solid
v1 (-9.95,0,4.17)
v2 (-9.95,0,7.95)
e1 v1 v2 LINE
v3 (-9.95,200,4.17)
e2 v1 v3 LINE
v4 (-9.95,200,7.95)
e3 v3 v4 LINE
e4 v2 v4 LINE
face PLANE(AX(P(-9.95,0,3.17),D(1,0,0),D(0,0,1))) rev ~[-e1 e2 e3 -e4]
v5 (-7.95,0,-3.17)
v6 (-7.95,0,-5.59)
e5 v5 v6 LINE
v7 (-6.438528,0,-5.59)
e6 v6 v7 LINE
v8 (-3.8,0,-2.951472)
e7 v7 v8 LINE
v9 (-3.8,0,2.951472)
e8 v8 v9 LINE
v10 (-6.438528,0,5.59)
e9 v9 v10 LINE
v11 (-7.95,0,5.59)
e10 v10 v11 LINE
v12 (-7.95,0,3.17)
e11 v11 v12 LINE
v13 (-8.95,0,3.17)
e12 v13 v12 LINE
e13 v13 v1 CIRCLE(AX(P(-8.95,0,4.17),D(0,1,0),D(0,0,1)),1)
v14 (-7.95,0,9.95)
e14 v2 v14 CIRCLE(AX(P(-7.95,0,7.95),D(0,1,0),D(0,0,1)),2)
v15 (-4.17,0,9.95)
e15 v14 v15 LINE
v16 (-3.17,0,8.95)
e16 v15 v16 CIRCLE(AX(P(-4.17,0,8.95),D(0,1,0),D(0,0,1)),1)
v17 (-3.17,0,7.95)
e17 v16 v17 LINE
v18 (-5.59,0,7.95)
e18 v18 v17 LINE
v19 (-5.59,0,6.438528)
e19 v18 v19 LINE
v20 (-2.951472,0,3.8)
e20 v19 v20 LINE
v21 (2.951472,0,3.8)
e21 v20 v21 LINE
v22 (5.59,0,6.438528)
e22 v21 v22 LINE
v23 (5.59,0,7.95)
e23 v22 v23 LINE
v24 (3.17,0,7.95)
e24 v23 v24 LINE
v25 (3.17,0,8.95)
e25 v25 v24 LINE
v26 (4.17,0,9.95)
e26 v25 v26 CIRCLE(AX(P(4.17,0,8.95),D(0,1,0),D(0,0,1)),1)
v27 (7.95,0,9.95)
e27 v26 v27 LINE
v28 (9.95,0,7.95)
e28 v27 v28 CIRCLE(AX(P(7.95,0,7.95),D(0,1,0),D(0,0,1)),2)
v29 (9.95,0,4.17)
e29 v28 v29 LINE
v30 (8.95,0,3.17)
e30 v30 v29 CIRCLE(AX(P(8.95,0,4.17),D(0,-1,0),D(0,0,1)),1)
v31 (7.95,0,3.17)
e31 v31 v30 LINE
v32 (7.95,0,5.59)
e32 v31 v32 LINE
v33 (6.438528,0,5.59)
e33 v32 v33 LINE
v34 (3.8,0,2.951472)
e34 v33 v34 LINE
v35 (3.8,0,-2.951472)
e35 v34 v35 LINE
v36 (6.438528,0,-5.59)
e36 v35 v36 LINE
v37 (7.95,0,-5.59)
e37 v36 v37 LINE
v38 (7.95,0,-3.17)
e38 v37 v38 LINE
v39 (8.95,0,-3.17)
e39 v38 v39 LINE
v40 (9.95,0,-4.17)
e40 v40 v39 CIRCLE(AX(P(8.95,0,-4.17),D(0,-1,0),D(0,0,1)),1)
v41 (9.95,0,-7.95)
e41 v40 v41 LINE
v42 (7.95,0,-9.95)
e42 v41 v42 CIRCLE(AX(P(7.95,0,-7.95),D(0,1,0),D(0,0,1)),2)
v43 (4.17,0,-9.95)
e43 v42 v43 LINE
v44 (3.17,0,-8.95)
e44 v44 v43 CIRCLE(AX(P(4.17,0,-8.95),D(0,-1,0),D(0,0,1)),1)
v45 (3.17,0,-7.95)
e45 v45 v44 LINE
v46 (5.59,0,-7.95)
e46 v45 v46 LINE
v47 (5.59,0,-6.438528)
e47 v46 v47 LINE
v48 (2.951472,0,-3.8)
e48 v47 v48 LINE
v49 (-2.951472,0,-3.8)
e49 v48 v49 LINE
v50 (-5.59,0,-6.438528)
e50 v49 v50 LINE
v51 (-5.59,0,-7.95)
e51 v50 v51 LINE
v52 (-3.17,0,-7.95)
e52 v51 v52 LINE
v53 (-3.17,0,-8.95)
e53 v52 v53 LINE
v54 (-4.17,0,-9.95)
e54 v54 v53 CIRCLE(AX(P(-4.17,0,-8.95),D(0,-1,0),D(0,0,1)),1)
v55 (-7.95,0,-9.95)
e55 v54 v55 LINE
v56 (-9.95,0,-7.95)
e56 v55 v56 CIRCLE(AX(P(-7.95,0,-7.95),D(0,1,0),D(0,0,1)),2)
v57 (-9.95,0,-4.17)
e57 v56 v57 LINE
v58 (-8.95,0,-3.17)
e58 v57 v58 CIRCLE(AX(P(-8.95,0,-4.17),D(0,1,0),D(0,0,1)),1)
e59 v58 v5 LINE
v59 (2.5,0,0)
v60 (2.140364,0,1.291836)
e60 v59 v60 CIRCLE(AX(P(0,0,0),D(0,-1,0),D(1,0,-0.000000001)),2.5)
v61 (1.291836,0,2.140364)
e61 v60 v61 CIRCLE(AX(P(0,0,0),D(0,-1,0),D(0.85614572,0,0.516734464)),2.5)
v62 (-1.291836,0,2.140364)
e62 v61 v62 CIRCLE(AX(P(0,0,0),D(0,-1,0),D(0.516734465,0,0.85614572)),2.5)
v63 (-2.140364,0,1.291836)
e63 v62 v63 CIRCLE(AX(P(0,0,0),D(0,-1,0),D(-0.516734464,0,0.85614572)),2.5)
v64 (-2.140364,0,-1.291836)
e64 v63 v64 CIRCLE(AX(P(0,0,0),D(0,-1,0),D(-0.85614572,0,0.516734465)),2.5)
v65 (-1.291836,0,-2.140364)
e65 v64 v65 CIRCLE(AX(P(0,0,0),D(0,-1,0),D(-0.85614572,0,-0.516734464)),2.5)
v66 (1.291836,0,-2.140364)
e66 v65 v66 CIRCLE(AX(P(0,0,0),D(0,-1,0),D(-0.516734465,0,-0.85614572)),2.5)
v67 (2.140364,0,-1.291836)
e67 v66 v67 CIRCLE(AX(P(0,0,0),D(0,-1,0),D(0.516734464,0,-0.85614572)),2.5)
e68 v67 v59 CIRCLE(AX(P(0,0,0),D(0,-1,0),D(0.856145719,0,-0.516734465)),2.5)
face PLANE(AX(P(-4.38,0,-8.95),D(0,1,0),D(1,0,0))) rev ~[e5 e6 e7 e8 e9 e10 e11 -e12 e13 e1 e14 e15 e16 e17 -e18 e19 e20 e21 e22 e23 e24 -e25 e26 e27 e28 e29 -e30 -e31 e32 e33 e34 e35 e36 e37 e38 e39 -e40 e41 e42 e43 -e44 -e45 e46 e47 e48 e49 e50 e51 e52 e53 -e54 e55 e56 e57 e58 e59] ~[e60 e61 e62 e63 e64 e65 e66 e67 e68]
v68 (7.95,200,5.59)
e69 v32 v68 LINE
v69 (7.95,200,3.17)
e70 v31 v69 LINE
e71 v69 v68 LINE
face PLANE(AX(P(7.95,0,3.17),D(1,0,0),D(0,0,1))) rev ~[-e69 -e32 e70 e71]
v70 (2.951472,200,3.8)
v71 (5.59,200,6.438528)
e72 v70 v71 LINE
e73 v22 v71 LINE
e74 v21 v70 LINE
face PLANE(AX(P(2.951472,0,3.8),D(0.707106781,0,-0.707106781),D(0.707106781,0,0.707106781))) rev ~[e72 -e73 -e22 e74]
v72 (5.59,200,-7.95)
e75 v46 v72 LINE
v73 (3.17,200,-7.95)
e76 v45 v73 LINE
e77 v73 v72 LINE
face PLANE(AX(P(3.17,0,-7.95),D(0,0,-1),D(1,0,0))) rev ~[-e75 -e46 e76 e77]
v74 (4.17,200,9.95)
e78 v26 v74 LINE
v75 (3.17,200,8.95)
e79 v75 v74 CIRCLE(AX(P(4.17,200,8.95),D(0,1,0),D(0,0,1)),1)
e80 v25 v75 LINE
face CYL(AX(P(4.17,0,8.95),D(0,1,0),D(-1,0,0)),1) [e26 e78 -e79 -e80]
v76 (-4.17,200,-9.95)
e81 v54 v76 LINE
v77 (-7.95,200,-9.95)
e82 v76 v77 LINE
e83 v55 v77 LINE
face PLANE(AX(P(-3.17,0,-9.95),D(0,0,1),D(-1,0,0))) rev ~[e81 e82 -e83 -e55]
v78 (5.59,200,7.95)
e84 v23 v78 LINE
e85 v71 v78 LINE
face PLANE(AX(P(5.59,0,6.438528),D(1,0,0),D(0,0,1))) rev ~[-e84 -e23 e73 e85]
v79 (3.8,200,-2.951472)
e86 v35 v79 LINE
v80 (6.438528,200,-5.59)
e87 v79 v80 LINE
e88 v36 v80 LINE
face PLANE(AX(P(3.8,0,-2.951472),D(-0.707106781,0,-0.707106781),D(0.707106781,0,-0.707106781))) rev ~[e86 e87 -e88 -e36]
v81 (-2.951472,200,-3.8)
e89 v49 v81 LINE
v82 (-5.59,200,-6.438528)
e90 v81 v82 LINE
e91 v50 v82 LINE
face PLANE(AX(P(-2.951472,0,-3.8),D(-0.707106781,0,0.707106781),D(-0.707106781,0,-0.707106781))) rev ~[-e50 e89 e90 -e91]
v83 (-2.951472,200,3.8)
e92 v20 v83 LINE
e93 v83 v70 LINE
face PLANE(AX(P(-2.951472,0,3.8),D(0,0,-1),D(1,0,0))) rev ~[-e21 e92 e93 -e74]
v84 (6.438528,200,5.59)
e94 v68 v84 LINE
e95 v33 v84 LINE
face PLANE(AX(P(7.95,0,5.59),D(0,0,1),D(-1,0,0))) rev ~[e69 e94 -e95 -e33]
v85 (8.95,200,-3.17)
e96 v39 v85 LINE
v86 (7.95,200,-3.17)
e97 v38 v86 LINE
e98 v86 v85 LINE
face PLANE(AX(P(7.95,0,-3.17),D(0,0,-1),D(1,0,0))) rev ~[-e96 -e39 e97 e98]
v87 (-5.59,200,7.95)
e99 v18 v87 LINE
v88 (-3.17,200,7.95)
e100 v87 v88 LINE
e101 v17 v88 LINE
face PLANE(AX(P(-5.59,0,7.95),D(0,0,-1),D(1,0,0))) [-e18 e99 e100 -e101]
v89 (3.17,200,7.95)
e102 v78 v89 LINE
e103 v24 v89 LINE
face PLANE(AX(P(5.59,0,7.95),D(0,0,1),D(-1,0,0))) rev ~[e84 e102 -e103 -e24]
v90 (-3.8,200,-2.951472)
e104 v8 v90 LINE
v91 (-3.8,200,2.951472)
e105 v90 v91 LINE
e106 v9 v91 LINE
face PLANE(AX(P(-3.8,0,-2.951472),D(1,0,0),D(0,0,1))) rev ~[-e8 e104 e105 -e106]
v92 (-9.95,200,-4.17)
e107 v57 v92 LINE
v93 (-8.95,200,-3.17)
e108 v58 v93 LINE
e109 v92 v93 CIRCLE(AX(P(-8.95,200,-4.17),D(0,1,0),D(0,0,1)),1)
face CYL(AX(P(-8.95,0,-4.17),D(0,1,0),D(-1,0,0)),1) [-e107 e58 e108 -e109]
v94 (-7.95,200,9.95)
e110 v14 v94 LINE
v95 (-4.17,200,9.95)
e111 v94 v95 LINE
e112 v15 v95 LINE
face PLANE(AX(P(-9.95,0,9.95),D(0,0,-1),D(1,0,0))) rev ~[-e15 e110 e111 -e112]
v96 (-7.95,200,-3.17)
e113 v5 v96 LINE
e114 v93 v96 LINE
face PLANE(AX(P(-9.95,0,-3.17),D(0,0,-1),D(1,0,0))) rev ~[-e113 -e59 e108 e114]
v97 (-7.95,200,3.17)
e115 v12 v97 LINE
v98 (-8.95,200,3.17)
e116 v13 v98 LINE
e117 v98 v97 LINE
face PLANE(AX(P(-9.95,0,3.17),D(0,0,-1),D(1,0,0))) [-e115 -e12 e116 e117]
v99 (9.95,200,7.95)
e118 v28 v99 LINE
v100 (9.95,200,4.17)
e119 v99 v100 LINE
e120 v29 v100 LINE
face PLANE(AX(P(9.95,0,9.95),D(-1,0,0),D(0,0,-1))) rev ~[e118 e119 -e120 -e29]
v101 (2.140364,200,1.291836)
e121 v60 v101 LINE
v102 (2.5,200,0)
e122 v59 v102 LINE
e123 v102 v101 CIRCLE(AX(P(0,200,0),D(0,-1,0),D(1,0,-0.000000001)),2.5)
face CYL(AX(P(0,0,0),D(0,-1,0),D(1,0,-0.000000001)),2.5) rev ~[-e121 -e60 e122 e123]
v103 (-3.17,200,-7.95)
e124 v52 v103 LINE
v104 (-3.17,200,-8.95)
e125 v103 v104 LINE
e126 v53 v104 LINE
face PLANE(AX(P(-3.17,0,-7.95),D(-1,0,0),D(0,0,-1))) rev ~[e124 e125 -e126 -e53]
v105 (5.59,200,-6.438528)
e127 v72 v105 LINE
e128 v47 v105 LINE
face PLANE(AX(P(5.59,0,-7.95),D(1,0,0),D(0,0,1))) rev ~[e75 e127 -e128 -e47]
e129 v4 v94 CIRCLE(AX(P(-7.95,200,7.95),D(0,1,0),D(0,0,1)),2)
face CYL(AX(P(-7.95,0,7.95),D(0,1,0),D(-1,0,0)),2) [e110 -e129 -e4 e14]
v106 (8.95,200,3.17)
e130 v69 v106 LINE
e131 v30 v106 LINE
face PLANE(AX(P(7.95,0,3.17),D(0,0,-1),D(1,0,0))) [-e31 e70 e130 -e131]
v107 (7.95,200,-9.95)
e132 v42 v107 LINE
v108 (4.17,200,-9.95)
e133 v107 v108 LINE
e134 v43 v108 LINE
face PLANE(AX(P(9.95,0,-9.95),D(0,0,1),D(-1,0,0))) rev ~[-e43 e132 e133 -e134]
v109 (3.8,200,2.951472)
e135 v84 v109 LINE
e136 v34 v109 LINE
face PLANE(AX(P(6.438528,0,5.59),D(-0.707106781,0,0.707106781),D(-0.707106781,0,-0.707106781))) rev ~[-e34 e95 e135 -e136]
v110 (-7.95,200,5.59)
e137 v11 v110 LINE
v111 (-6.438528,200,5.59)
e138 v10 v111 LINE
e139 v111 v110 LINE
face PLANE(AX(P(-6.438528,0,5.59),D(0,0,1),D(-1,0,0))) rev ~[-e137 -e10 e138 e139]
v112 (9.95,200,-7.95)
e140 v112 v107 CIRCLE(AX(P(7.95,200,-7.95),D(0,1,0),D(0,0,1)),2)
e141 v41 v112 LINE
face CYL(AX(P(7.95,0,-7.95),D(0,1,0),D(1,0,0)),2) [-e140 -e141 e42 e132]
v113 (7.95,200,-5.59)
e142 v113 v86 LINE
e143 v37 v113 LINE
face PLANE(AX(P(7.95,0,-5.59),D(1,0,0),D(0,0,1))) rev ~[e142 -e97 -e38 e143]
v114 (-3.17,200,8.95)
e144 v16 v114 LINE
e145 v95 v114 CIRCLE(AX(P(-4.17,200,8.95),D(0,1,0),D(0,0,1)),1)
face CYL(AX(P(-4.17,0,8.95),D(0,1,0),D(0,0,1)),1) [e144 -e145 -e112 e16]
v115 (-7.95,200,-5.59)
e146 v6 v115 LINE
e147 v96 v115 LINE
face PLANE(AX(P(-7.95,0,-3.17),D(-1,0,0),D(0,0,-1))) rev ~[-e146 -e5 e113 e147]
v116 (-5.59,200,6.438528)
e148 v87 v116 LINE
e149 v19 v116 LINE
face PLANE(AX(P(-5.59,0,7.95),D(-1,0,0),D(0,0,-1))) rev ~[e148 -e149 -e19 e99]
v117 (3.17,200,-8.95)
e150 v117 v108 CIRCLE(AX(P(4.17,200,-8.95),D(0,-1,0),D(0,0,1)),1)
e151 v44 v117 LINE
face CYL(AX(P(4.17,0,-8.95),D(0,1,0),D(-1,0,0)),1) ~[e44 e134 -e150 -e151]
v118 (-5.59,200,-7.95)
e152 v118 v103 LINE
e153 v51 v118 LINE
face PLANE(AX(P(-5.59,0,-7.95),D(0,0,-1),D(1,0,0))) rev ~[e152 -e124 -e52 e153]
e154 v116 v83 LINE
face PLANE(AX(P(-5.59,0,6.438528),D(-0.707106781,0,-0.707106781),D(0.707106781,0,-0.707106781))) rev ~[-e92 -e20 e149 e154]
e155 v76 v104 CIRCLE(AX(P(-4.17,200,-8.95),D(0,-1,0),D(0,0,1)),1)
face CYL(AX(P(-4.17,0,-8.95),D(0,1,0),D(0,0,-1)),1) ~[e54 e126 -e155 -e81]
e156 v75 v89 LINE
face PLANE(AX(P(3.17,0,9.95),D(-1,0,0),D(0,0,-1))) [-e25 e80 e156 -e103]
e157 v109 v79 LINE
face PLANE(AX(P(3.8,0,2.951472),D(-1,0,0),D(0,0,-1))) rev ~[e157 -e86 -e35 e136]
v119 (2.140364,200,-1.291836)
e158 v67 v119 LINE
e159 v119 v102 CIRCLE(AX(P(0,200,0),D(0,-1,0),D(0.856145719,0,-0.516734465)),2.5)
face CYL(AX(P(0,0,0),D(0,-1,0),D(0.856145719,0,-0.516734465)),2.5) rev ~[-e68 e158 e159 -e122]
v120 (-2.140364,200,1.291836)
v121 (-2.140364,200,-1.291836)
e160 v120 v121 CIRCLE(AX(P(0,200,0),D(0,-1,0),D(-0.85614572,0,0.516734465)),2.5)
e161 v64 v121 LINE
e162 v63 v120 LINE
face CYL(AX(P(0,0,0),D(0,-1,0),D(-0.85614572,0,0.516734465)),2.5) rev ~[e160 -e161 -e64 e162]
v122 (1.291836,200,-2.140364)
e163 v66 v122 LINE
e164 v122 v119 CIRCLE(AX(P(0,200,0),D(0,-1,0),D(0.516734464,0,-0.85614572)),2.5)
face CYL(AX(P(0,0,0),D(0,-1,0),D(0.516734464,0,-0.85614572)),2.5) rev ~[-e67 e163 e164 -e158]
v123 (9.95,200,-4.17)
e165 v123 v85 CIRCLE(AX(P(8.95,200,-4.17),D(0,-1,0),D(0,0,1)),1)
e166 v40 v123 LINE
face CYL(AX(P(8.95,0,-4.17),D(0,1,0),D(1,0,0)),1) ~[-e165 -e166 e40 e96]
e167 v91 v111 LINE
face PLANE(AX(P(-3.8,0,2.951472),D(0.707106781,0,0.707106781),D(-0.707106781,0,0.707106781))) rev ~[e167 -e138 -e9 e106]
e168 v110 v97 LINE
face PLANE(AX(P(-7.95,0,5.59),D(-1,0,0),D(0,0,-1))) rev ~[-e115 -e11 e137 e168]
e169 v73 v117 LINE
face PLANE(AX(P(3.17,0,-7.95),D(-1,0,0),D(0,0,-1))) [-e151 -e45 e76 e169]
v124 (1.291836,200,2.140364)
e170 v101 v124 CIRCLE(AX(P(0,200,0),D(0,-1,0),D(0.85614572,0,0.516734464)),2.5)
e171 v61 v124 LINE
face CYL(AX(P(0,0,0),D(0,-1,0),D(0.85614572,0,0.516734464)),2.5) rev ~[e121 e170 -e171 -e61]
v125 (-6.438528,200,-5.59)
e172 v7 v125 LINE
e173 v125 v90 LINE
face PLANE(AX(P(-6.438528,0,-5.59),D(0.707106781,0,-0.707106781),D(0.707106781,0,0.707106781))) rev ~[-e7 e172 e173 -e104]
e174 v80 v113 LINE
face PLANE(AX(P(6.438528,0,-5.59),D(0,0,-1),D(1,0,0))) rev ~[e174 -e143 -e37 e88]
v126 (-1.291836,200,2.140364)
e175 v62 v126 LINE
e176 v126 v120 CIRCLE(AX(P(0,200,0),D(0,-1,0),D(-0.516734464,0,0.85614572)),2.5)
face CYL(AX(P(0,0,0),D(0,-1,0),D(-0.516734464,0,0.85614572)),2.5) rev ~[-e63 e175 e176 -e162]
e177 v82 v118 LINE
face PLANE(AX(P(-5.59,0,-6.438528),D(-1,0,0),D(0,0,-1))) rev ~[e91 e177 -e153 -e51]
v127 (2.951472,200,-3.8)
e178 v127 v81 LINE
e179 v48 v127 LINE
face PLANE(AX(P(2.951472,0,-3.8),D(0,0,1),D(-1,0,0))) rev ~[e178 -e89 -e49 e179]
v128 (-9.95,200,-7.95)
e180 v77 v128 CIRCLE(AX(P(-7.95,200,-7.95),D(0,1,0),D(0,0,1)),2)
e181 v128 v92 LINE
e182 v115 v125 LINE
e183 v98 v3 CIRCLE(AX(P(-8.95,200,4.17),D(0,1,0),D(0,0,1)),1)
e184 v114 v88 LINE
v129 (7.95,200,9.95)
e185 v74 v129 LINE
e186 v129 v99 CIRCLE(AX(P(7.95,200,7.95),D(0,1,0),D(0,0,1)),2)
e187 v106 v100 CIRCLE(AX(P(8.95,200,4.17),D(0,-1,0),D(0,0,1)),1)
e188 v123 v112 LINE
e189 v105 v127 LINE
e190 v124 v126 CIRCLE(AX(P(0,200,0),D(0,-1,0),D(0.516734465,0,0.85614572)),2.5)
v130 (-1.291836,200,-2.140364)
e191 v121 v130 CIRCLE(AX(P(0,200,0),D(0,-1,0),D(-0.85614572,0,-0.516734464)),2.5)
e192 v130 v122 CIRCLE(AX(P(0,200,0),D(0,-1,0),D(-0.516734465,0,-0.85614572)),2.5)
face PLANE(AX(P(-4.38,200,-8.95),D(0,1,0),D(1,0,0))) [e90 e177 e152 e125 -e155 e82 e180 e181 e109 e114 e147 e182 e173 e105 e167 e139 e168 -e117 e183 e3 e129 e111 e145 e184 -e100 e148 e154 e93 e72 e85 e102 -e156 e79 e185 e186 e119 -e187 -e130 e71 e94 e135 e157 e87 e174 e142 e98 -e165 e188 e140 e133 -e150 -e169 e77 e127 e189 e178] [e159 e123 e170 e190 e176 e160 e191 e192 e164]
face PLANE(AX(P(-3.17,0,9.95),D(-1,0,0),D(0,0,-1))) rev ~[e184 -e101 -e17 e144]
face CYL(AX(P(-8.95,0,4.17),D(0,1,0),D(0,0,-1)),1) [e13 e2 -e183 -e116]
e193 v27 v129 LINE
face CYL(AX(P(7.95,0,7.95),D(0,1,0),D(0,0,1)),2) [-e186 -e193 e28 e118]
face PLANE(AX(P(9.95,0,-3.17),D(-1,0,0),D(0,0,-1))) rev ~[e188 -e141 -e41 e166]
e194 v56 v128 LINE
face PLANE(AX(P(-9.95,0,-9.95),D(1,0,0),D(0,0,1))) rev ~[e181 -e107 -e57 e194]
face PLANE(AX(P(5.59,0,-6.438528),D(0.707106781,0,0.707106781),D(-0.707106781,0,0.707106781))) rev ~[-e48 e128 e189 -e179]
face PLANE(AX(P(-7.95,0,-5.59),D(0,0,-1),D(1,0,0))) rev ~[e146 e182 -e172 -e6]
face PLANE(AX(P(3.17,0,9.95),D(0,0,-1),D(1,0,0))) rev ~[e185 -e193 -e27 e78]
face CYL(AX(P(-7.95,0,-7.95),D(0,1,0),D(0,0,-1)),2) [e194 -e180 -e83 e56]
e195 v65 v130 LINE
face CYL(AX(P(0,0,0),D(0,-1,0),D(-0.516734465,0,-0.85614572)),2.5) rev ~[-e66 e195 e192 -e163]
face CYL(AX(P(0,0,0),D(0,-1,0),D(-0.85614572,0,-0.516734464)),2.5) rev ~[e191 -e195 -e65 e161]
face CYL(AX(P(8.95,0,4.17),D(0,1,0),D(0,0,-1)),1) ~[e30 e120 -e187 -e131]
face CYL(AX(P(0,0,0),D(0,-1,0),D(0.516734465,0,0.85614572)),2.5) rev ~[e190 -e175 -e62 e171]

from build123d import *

# Parameters (mm, degrees)
SKETCH_1_W      = 2.42
SKETCH_1_H      = 2
SKETCH_1_W_2    = 2
SKETCH_1_H_2    = 2.42
EXTRUDE_1_DEPTH = 200
FILLET_1_R      = 2
FILLET_2_R      = 1


with BuildPart() as part:
    # 草图1 → 凸台-拉伸1 (new body)
    with BuildSketch(Plane(origin=(0, 0, 0), x_dir=(1, 0, 0), z_dir=(0, 1, 0))):
        with Locations((-4.38, 8.95)):
            Rectangle(SKETCH_1_W, SKETCH_1_H)
        Polygon((-7.101471863, 7.95), (-5.59, 7.95), (-5.59, 9.95), (-7.95, 9.95), (-7.95, 8.798528137), align=None)
        Polygon((-9.101471863, 9.95), (-7.95, 8.798528137), (-7.95, 9.95), align=None)
        Polygon((-9.95, 9.101471863), (-8.798528137, 7.95), (-7.95, 7.95), (-7.95, 8.798528137), (-9.101471863, 9.95), (-9.95, 9.95), align=None)
        Polygon((-9.95, 7.95), (-8.798528137, 7.95), (-9.95, 9.101471863), align=None)
        Polygon((-9.95, 5.59), (-7.95, 5.59), (-7.95, 7.101471863), (-8.798528137, 7.95), (-9.95, 7.95), align=None)
        Polygon((-7.95, 7.95), (-7.101471863, 7.95), (-7.95, 8.798528137), align=None)
        Polygon((-8.798528137, 7.95), (-7.95, 7.101471863), (-7.95, 7.95), align=None)
        with Locations((-8.95, 4.38)):
            Rectangle(SKETCH_1_W_2, SKETCH_1_H_2)
        Polygon((-7.101471863, 7.95), (-5.59, 6.438528137), (-5.59, 7.95), align=None)
        Polygon((-7.95, 7.101471863), (-6.438528137, 5.59), (-5.59, 5.59), (-5.59, 6.438528137), (-7.101471863, 7.95), (-7.95, 7.95), align=None)
        Polygon((-7.95, 5.59), (-6.438528137, 5.59), (-7.95, 7.101471863), align=None)
        Polygon((-6.438528137, 5.59), (-3.8, 2.951471863), (-3.8, 3.8), (-2.951471863, 3.8), (-5.59, 6.438528137), (-5.59, 5.59), align=None)
        with Locations((4.38, 8.95)):
            Rectangle(SKETCH_1_W, SKETCH_1_H)
        Polygon((7.101471863, 7.95), (7.95, 8.798528137), (7.95, 9.95), (5.59, 9.95), (5.59, 7.95), align=None)
        Polygon((7.95, 8.798528137), (9.101471863, 9.95), (7.95, 9.95), align=None)
        Polygon((8.798528137, 7.95), (9.95, 9.101471863), (9.95, 9.95), (9.101471863, 9.95), (7.95, 8.798528137), (7.95, 7.95), align=None)
        Polygon((8.798528137, 7.95), (9.95, 7.95), (9.95, 9.101471863), align=None)
        Polygon((7.95, 5.59), (9.95, 5.59), (9.95, 7.95), (8.798528137, 7.95), (7.95, 7.101471863), align=None)
        Polygon((7.101471863, 7.95), (7.95, 7.95), (7.95, 8.798528137), align=None)
        Polygon((7.95, 7.101471863), (8.798528137, 7.95), (7.95, 7.95), align=None)
        with Locations((8.95, 4.38)):
            Rectangle(SKETCH_1_W_2, SKETCH_1_H_2)
        Polygon((5.59, 5.59), (6.438528137, 5.59), (7.95, 7.101471863), (7.95, 7.95), (7.101471863, 7.95), (5.59, 6.438528137), align=None)
        Polygon((6.438528137, 5.59), (7.95, 5.59), (7.95, 7.101471863), align=None)
        Polygon((5.59, 7.95), (5.59, 6.438528137), (7.101471863, 7.95), align=None)
        Polygon((3.8, 3.8), (3.8, 2.951471863), (6.438528137, 5.59), (5.59, 5.59), (5.59, 6.438528137), (2.951471863, 3.8), align=None)
        with Locations((8.95, -4.38)):
            Rectangle(SKETCH_1_W_2, SKETCH_1_H_2)
        Polygon((8.798528137, -7.95), (9.95, -7.95), (9.95, -5.59), (7.95, -5.59), (7.95, -7.101471863), align=None)
        Polygon((8.798528137, -7.95), (9.95, -9.101471863), (9.95, -7.95), align=None)
        Polygon((9.101471863, -9.95), (9.95, -9.95), (9.95, -9.101471863), (8.798528137, -7.95), (7.95, -7.95), (7.95, -8.798528137), align=None)
        Polygon((7.95, -9.95), (9.101471863, -9.95), (7.95, -8.798528137), align=None)
        Polygon((7.95, -7.95), (8.798528137, -7.95), (7.95, -7.101471863), align=None)
        Polygon((7.101471863, -7.95), (7.95, -8.798528137), (7.95, -7.95), align=None)
        Polygon((5.59, -9.95), (7.95, -9.95), (7.95, -8.798528137), (7.101471863, -7.95), (5.59, -7.95), align=None)
        with Locations((4.38, -8.95)):
            Rectangle(SKETCH_1_W, SKETCH_1_H)
        Polygon((5.59, -7.95), (7.101471863, -7.95), (5.59, -6.438528137), align=None)
        Polygon((5.59, -6.438528137), (7.101471863, -7.95), (7.95, -7.95), (7.95, -7.101471863), (6.438528137, -5.59), (5.59, -5.59), align=None)
        Polygon((6.438528137, -5.59), (7.95, -7.101471863), (7.95, -5.59), align=None)
        with Locations((-8.95, -4.38)):
            Rectangle(SKETCH_1_W_2, SKETCH_1_H_2)
        Polygon((-8.798528137, -7.95), (-7.95, -7.101471863), (-7.95, -5.59), (-9.95, -5.59), (-9.95, -7.95), align=None)
        Polygon((-7.95, -7.101471863), (-6.438528137, -5.59), (-7.95, -5.59), align=None)
        Polygon((-7.101471863, -7.95), (-5.59, -6.438528137), (-5.59, -5.59), (-6.438528137, -5.59), (-7.95, -7.101471863), (-7.95, -7.95), align=None)
        Polygon((-7.101471863, -7.95), (-5.59, -7.95), (-5.59, -6.438528137), align=None)
        Polygon((-7.95, -9.95), (-5.59, -9.95), (-5.59, -7.95), (-7.101471863, -7.95), (-7.95, -8.798528137), align=None)
        with Locations((-4.38, -8.95)):
            Rectangle(SKETCH_1_W, SKETCH_1_H)
        Polygon((-7.95, -7.95), (-7.95, -8.798528137), (-7.101471863, -7.95), align=None)
        Polygon((-8.798528137, -7.95), (-7.95, -7.95), (-7.95, -7.101471863), align=None)
        Polygon((-9.95, -9.95), (-9.101471863, -9.95), (-7.95, -8.798528137), (-7.95, -7.95), (-8.798528137, -7.95), (-9.95, -9.101471863), align=None)
        Polygon((-9.95, -7.95), (-9.95, -9.101471863), (-8.798528137, -7.95), align=None)
        Polygon((-9.101471863, -9.95), (-7.95, -9.95), (-7.95, -8.798528137), align=None)
        Polygon((-5.59, -6.438528137), (-2.951471863, -3.8), (-3.8, -3.8), (-3.8, -2.951471863), (-6.438528137, -5.59), (-5.59, -5.59), align=None)
        Polygon((2.951471863, -3.8), (5.59, -6.438528137), (5.59, -5.59), (6.438528137, -5.59), (3.8, -2.951471863), (3.8, -3.8), align=None)
        with BuildLine():
            Line((2.140364299, -1.291836161), (3.8, -2.951471863))
            Line((3.8, -2.951471863), (3.8, 2.951471863))
            Line((3.8, 2.951471863), (2.140364299, 1.291836161))
            ThreePointArc((2.140364299, 1.291836161), (2.408413456, 0.670480892), (2.5, 0))
            ThreePointArc((2.5, 0), (2.408413456, -0.670480892), (2.140364299, -1.291836161))
        make_face()
        with BuildLine():
            Line((1.291836161, 2.140364299), (2.951471863, 3.8))
            Line((2.951471863, 3.8), (-2.951471863, 3.8))
            Line((-2.951471863, 3.8), (-1.291836161, 2.140364299))
            ThreePointArc((-1.291836161, 2.140364299), (0, 2.5), (1.291836161, 2.140364299))
        make_face()
        with BuildLine():
            Line((-3.8, 2.951471863), (-3.8, -2.951471863))
            Line((-3.8, -2.951471863), (-2.140364299, -1.291836161))
            ThreePointArc((-2.140364299, -1.291836161), (-2.5, 0), (-2.140364299, 1.291836161))
            Line((-2.140364299, 1.291836161), (-3.8, 2.951471863))
        make_face()
        with BuildLine():
            Line((-2.951471863, -3.8), (2.951471863, -3.8))
            Line((2.951471863, -3.8), (1.291836161, -2.140364299))
            ThreePointArc((1.291836161, -2.140364299), (0, -2.5), (-1.291836161, -2.140364299))
            Line((-1.291836161, -2.140364299), (-2.951471863, -3.8))
        make_face()
        with BuildLine():
            Line((-3.8, -3.8), (-2.951471863, -3.8))
            Line((-2.951471863, -3.8), (-1.291836161, -2.140364299))
            ThreePointArc((-1.291836161, -2.140364299), (-1.767766953, -1.767766953), (-2.140364299, -1.291836161))
            Line((-2.140364299, -1.291836161), (-3.8, -2.951471863))
            Line((-3.8, -2.951471863), (-3.8, -3.8))
        make_face()
        with BuildLine():
            Line((1.291836161, -2.140364299), (2.951471863, -3.8))
            Line((2.951471863, -3.8), (3.8, -3.8))
            Line((3.8, -3.8), (3.8, -2.951471863))
            Line((3.8, -2.951471863), (2.140364299, -1.291836161))
            ThreePointArc((2.140364299, -1.291836161), (1.767766953, -1.767766953), (1.291836161, -2.140364299))
        make_face()
        with BuildLine():
            Line((2.140364299, 1.291836161), (3.8, 2.951471863))
            Line((3.8, 2.951471863), (3.8, 3.8))
            Line((3.8, 3.8), (2.951471863, 3.8))
            Line((2.951471863, 3.8), (1.291836161, 2.140364299))
            ThreePointArc((1.291836161, 2.140364299), (1.767766953, 1.767766953), (2.140364299, 1.291836161))
        make_face()
        with BuildLine():
            Line((-3.8, 3.8), (-3.8, 2.951471863))
            Line((-3.8, 2.951471863), (-2.140364299, 1.291836161))
            ThreePointArc((-2.140364299, 1.291836161), (-1.767766953, 1.767766953), (-1.291836161, 2.140364299))
            Line((-1.291836161, 2.140364299), (-2.951471863, 3.8))
            Line((-2.951471863, 3.8), (-3.8, 3.8))
        make_face()
    extrude(amount=EXTRUDE_1_DEPTH)

    # 圆角1
    fillet_1_edges = [part.edges().sort_by_distance(p)[0] for p in [
        (-9.95, 100, 9.95),
        (-9.95, 100, -9.95),
        (9.95, 100, -9.95),
        (9.95, 100, 9.95),
    ]]
    fillet(fillet_1_edges, radius=FILLET_1_R)

    # 圆角2
    fillet_2_edges = [part.edges().sort_by_distance(p)[0] for p in [
        (3.17, 100, 9.95),
        (-3.17, 100, 9.95),
        (-9.95, 100, 3.17),
        (-9.95, 100, -3.17),
        (-3.17, 100, -9.95),
        (3.17, 100, -9.95),
        (9.95, 100, -3.17),
        (9.95, 100, 3.17),
    ]]
    fillet(fillet_2_edges, radius=FILLET_2_R)


solid = part.part
